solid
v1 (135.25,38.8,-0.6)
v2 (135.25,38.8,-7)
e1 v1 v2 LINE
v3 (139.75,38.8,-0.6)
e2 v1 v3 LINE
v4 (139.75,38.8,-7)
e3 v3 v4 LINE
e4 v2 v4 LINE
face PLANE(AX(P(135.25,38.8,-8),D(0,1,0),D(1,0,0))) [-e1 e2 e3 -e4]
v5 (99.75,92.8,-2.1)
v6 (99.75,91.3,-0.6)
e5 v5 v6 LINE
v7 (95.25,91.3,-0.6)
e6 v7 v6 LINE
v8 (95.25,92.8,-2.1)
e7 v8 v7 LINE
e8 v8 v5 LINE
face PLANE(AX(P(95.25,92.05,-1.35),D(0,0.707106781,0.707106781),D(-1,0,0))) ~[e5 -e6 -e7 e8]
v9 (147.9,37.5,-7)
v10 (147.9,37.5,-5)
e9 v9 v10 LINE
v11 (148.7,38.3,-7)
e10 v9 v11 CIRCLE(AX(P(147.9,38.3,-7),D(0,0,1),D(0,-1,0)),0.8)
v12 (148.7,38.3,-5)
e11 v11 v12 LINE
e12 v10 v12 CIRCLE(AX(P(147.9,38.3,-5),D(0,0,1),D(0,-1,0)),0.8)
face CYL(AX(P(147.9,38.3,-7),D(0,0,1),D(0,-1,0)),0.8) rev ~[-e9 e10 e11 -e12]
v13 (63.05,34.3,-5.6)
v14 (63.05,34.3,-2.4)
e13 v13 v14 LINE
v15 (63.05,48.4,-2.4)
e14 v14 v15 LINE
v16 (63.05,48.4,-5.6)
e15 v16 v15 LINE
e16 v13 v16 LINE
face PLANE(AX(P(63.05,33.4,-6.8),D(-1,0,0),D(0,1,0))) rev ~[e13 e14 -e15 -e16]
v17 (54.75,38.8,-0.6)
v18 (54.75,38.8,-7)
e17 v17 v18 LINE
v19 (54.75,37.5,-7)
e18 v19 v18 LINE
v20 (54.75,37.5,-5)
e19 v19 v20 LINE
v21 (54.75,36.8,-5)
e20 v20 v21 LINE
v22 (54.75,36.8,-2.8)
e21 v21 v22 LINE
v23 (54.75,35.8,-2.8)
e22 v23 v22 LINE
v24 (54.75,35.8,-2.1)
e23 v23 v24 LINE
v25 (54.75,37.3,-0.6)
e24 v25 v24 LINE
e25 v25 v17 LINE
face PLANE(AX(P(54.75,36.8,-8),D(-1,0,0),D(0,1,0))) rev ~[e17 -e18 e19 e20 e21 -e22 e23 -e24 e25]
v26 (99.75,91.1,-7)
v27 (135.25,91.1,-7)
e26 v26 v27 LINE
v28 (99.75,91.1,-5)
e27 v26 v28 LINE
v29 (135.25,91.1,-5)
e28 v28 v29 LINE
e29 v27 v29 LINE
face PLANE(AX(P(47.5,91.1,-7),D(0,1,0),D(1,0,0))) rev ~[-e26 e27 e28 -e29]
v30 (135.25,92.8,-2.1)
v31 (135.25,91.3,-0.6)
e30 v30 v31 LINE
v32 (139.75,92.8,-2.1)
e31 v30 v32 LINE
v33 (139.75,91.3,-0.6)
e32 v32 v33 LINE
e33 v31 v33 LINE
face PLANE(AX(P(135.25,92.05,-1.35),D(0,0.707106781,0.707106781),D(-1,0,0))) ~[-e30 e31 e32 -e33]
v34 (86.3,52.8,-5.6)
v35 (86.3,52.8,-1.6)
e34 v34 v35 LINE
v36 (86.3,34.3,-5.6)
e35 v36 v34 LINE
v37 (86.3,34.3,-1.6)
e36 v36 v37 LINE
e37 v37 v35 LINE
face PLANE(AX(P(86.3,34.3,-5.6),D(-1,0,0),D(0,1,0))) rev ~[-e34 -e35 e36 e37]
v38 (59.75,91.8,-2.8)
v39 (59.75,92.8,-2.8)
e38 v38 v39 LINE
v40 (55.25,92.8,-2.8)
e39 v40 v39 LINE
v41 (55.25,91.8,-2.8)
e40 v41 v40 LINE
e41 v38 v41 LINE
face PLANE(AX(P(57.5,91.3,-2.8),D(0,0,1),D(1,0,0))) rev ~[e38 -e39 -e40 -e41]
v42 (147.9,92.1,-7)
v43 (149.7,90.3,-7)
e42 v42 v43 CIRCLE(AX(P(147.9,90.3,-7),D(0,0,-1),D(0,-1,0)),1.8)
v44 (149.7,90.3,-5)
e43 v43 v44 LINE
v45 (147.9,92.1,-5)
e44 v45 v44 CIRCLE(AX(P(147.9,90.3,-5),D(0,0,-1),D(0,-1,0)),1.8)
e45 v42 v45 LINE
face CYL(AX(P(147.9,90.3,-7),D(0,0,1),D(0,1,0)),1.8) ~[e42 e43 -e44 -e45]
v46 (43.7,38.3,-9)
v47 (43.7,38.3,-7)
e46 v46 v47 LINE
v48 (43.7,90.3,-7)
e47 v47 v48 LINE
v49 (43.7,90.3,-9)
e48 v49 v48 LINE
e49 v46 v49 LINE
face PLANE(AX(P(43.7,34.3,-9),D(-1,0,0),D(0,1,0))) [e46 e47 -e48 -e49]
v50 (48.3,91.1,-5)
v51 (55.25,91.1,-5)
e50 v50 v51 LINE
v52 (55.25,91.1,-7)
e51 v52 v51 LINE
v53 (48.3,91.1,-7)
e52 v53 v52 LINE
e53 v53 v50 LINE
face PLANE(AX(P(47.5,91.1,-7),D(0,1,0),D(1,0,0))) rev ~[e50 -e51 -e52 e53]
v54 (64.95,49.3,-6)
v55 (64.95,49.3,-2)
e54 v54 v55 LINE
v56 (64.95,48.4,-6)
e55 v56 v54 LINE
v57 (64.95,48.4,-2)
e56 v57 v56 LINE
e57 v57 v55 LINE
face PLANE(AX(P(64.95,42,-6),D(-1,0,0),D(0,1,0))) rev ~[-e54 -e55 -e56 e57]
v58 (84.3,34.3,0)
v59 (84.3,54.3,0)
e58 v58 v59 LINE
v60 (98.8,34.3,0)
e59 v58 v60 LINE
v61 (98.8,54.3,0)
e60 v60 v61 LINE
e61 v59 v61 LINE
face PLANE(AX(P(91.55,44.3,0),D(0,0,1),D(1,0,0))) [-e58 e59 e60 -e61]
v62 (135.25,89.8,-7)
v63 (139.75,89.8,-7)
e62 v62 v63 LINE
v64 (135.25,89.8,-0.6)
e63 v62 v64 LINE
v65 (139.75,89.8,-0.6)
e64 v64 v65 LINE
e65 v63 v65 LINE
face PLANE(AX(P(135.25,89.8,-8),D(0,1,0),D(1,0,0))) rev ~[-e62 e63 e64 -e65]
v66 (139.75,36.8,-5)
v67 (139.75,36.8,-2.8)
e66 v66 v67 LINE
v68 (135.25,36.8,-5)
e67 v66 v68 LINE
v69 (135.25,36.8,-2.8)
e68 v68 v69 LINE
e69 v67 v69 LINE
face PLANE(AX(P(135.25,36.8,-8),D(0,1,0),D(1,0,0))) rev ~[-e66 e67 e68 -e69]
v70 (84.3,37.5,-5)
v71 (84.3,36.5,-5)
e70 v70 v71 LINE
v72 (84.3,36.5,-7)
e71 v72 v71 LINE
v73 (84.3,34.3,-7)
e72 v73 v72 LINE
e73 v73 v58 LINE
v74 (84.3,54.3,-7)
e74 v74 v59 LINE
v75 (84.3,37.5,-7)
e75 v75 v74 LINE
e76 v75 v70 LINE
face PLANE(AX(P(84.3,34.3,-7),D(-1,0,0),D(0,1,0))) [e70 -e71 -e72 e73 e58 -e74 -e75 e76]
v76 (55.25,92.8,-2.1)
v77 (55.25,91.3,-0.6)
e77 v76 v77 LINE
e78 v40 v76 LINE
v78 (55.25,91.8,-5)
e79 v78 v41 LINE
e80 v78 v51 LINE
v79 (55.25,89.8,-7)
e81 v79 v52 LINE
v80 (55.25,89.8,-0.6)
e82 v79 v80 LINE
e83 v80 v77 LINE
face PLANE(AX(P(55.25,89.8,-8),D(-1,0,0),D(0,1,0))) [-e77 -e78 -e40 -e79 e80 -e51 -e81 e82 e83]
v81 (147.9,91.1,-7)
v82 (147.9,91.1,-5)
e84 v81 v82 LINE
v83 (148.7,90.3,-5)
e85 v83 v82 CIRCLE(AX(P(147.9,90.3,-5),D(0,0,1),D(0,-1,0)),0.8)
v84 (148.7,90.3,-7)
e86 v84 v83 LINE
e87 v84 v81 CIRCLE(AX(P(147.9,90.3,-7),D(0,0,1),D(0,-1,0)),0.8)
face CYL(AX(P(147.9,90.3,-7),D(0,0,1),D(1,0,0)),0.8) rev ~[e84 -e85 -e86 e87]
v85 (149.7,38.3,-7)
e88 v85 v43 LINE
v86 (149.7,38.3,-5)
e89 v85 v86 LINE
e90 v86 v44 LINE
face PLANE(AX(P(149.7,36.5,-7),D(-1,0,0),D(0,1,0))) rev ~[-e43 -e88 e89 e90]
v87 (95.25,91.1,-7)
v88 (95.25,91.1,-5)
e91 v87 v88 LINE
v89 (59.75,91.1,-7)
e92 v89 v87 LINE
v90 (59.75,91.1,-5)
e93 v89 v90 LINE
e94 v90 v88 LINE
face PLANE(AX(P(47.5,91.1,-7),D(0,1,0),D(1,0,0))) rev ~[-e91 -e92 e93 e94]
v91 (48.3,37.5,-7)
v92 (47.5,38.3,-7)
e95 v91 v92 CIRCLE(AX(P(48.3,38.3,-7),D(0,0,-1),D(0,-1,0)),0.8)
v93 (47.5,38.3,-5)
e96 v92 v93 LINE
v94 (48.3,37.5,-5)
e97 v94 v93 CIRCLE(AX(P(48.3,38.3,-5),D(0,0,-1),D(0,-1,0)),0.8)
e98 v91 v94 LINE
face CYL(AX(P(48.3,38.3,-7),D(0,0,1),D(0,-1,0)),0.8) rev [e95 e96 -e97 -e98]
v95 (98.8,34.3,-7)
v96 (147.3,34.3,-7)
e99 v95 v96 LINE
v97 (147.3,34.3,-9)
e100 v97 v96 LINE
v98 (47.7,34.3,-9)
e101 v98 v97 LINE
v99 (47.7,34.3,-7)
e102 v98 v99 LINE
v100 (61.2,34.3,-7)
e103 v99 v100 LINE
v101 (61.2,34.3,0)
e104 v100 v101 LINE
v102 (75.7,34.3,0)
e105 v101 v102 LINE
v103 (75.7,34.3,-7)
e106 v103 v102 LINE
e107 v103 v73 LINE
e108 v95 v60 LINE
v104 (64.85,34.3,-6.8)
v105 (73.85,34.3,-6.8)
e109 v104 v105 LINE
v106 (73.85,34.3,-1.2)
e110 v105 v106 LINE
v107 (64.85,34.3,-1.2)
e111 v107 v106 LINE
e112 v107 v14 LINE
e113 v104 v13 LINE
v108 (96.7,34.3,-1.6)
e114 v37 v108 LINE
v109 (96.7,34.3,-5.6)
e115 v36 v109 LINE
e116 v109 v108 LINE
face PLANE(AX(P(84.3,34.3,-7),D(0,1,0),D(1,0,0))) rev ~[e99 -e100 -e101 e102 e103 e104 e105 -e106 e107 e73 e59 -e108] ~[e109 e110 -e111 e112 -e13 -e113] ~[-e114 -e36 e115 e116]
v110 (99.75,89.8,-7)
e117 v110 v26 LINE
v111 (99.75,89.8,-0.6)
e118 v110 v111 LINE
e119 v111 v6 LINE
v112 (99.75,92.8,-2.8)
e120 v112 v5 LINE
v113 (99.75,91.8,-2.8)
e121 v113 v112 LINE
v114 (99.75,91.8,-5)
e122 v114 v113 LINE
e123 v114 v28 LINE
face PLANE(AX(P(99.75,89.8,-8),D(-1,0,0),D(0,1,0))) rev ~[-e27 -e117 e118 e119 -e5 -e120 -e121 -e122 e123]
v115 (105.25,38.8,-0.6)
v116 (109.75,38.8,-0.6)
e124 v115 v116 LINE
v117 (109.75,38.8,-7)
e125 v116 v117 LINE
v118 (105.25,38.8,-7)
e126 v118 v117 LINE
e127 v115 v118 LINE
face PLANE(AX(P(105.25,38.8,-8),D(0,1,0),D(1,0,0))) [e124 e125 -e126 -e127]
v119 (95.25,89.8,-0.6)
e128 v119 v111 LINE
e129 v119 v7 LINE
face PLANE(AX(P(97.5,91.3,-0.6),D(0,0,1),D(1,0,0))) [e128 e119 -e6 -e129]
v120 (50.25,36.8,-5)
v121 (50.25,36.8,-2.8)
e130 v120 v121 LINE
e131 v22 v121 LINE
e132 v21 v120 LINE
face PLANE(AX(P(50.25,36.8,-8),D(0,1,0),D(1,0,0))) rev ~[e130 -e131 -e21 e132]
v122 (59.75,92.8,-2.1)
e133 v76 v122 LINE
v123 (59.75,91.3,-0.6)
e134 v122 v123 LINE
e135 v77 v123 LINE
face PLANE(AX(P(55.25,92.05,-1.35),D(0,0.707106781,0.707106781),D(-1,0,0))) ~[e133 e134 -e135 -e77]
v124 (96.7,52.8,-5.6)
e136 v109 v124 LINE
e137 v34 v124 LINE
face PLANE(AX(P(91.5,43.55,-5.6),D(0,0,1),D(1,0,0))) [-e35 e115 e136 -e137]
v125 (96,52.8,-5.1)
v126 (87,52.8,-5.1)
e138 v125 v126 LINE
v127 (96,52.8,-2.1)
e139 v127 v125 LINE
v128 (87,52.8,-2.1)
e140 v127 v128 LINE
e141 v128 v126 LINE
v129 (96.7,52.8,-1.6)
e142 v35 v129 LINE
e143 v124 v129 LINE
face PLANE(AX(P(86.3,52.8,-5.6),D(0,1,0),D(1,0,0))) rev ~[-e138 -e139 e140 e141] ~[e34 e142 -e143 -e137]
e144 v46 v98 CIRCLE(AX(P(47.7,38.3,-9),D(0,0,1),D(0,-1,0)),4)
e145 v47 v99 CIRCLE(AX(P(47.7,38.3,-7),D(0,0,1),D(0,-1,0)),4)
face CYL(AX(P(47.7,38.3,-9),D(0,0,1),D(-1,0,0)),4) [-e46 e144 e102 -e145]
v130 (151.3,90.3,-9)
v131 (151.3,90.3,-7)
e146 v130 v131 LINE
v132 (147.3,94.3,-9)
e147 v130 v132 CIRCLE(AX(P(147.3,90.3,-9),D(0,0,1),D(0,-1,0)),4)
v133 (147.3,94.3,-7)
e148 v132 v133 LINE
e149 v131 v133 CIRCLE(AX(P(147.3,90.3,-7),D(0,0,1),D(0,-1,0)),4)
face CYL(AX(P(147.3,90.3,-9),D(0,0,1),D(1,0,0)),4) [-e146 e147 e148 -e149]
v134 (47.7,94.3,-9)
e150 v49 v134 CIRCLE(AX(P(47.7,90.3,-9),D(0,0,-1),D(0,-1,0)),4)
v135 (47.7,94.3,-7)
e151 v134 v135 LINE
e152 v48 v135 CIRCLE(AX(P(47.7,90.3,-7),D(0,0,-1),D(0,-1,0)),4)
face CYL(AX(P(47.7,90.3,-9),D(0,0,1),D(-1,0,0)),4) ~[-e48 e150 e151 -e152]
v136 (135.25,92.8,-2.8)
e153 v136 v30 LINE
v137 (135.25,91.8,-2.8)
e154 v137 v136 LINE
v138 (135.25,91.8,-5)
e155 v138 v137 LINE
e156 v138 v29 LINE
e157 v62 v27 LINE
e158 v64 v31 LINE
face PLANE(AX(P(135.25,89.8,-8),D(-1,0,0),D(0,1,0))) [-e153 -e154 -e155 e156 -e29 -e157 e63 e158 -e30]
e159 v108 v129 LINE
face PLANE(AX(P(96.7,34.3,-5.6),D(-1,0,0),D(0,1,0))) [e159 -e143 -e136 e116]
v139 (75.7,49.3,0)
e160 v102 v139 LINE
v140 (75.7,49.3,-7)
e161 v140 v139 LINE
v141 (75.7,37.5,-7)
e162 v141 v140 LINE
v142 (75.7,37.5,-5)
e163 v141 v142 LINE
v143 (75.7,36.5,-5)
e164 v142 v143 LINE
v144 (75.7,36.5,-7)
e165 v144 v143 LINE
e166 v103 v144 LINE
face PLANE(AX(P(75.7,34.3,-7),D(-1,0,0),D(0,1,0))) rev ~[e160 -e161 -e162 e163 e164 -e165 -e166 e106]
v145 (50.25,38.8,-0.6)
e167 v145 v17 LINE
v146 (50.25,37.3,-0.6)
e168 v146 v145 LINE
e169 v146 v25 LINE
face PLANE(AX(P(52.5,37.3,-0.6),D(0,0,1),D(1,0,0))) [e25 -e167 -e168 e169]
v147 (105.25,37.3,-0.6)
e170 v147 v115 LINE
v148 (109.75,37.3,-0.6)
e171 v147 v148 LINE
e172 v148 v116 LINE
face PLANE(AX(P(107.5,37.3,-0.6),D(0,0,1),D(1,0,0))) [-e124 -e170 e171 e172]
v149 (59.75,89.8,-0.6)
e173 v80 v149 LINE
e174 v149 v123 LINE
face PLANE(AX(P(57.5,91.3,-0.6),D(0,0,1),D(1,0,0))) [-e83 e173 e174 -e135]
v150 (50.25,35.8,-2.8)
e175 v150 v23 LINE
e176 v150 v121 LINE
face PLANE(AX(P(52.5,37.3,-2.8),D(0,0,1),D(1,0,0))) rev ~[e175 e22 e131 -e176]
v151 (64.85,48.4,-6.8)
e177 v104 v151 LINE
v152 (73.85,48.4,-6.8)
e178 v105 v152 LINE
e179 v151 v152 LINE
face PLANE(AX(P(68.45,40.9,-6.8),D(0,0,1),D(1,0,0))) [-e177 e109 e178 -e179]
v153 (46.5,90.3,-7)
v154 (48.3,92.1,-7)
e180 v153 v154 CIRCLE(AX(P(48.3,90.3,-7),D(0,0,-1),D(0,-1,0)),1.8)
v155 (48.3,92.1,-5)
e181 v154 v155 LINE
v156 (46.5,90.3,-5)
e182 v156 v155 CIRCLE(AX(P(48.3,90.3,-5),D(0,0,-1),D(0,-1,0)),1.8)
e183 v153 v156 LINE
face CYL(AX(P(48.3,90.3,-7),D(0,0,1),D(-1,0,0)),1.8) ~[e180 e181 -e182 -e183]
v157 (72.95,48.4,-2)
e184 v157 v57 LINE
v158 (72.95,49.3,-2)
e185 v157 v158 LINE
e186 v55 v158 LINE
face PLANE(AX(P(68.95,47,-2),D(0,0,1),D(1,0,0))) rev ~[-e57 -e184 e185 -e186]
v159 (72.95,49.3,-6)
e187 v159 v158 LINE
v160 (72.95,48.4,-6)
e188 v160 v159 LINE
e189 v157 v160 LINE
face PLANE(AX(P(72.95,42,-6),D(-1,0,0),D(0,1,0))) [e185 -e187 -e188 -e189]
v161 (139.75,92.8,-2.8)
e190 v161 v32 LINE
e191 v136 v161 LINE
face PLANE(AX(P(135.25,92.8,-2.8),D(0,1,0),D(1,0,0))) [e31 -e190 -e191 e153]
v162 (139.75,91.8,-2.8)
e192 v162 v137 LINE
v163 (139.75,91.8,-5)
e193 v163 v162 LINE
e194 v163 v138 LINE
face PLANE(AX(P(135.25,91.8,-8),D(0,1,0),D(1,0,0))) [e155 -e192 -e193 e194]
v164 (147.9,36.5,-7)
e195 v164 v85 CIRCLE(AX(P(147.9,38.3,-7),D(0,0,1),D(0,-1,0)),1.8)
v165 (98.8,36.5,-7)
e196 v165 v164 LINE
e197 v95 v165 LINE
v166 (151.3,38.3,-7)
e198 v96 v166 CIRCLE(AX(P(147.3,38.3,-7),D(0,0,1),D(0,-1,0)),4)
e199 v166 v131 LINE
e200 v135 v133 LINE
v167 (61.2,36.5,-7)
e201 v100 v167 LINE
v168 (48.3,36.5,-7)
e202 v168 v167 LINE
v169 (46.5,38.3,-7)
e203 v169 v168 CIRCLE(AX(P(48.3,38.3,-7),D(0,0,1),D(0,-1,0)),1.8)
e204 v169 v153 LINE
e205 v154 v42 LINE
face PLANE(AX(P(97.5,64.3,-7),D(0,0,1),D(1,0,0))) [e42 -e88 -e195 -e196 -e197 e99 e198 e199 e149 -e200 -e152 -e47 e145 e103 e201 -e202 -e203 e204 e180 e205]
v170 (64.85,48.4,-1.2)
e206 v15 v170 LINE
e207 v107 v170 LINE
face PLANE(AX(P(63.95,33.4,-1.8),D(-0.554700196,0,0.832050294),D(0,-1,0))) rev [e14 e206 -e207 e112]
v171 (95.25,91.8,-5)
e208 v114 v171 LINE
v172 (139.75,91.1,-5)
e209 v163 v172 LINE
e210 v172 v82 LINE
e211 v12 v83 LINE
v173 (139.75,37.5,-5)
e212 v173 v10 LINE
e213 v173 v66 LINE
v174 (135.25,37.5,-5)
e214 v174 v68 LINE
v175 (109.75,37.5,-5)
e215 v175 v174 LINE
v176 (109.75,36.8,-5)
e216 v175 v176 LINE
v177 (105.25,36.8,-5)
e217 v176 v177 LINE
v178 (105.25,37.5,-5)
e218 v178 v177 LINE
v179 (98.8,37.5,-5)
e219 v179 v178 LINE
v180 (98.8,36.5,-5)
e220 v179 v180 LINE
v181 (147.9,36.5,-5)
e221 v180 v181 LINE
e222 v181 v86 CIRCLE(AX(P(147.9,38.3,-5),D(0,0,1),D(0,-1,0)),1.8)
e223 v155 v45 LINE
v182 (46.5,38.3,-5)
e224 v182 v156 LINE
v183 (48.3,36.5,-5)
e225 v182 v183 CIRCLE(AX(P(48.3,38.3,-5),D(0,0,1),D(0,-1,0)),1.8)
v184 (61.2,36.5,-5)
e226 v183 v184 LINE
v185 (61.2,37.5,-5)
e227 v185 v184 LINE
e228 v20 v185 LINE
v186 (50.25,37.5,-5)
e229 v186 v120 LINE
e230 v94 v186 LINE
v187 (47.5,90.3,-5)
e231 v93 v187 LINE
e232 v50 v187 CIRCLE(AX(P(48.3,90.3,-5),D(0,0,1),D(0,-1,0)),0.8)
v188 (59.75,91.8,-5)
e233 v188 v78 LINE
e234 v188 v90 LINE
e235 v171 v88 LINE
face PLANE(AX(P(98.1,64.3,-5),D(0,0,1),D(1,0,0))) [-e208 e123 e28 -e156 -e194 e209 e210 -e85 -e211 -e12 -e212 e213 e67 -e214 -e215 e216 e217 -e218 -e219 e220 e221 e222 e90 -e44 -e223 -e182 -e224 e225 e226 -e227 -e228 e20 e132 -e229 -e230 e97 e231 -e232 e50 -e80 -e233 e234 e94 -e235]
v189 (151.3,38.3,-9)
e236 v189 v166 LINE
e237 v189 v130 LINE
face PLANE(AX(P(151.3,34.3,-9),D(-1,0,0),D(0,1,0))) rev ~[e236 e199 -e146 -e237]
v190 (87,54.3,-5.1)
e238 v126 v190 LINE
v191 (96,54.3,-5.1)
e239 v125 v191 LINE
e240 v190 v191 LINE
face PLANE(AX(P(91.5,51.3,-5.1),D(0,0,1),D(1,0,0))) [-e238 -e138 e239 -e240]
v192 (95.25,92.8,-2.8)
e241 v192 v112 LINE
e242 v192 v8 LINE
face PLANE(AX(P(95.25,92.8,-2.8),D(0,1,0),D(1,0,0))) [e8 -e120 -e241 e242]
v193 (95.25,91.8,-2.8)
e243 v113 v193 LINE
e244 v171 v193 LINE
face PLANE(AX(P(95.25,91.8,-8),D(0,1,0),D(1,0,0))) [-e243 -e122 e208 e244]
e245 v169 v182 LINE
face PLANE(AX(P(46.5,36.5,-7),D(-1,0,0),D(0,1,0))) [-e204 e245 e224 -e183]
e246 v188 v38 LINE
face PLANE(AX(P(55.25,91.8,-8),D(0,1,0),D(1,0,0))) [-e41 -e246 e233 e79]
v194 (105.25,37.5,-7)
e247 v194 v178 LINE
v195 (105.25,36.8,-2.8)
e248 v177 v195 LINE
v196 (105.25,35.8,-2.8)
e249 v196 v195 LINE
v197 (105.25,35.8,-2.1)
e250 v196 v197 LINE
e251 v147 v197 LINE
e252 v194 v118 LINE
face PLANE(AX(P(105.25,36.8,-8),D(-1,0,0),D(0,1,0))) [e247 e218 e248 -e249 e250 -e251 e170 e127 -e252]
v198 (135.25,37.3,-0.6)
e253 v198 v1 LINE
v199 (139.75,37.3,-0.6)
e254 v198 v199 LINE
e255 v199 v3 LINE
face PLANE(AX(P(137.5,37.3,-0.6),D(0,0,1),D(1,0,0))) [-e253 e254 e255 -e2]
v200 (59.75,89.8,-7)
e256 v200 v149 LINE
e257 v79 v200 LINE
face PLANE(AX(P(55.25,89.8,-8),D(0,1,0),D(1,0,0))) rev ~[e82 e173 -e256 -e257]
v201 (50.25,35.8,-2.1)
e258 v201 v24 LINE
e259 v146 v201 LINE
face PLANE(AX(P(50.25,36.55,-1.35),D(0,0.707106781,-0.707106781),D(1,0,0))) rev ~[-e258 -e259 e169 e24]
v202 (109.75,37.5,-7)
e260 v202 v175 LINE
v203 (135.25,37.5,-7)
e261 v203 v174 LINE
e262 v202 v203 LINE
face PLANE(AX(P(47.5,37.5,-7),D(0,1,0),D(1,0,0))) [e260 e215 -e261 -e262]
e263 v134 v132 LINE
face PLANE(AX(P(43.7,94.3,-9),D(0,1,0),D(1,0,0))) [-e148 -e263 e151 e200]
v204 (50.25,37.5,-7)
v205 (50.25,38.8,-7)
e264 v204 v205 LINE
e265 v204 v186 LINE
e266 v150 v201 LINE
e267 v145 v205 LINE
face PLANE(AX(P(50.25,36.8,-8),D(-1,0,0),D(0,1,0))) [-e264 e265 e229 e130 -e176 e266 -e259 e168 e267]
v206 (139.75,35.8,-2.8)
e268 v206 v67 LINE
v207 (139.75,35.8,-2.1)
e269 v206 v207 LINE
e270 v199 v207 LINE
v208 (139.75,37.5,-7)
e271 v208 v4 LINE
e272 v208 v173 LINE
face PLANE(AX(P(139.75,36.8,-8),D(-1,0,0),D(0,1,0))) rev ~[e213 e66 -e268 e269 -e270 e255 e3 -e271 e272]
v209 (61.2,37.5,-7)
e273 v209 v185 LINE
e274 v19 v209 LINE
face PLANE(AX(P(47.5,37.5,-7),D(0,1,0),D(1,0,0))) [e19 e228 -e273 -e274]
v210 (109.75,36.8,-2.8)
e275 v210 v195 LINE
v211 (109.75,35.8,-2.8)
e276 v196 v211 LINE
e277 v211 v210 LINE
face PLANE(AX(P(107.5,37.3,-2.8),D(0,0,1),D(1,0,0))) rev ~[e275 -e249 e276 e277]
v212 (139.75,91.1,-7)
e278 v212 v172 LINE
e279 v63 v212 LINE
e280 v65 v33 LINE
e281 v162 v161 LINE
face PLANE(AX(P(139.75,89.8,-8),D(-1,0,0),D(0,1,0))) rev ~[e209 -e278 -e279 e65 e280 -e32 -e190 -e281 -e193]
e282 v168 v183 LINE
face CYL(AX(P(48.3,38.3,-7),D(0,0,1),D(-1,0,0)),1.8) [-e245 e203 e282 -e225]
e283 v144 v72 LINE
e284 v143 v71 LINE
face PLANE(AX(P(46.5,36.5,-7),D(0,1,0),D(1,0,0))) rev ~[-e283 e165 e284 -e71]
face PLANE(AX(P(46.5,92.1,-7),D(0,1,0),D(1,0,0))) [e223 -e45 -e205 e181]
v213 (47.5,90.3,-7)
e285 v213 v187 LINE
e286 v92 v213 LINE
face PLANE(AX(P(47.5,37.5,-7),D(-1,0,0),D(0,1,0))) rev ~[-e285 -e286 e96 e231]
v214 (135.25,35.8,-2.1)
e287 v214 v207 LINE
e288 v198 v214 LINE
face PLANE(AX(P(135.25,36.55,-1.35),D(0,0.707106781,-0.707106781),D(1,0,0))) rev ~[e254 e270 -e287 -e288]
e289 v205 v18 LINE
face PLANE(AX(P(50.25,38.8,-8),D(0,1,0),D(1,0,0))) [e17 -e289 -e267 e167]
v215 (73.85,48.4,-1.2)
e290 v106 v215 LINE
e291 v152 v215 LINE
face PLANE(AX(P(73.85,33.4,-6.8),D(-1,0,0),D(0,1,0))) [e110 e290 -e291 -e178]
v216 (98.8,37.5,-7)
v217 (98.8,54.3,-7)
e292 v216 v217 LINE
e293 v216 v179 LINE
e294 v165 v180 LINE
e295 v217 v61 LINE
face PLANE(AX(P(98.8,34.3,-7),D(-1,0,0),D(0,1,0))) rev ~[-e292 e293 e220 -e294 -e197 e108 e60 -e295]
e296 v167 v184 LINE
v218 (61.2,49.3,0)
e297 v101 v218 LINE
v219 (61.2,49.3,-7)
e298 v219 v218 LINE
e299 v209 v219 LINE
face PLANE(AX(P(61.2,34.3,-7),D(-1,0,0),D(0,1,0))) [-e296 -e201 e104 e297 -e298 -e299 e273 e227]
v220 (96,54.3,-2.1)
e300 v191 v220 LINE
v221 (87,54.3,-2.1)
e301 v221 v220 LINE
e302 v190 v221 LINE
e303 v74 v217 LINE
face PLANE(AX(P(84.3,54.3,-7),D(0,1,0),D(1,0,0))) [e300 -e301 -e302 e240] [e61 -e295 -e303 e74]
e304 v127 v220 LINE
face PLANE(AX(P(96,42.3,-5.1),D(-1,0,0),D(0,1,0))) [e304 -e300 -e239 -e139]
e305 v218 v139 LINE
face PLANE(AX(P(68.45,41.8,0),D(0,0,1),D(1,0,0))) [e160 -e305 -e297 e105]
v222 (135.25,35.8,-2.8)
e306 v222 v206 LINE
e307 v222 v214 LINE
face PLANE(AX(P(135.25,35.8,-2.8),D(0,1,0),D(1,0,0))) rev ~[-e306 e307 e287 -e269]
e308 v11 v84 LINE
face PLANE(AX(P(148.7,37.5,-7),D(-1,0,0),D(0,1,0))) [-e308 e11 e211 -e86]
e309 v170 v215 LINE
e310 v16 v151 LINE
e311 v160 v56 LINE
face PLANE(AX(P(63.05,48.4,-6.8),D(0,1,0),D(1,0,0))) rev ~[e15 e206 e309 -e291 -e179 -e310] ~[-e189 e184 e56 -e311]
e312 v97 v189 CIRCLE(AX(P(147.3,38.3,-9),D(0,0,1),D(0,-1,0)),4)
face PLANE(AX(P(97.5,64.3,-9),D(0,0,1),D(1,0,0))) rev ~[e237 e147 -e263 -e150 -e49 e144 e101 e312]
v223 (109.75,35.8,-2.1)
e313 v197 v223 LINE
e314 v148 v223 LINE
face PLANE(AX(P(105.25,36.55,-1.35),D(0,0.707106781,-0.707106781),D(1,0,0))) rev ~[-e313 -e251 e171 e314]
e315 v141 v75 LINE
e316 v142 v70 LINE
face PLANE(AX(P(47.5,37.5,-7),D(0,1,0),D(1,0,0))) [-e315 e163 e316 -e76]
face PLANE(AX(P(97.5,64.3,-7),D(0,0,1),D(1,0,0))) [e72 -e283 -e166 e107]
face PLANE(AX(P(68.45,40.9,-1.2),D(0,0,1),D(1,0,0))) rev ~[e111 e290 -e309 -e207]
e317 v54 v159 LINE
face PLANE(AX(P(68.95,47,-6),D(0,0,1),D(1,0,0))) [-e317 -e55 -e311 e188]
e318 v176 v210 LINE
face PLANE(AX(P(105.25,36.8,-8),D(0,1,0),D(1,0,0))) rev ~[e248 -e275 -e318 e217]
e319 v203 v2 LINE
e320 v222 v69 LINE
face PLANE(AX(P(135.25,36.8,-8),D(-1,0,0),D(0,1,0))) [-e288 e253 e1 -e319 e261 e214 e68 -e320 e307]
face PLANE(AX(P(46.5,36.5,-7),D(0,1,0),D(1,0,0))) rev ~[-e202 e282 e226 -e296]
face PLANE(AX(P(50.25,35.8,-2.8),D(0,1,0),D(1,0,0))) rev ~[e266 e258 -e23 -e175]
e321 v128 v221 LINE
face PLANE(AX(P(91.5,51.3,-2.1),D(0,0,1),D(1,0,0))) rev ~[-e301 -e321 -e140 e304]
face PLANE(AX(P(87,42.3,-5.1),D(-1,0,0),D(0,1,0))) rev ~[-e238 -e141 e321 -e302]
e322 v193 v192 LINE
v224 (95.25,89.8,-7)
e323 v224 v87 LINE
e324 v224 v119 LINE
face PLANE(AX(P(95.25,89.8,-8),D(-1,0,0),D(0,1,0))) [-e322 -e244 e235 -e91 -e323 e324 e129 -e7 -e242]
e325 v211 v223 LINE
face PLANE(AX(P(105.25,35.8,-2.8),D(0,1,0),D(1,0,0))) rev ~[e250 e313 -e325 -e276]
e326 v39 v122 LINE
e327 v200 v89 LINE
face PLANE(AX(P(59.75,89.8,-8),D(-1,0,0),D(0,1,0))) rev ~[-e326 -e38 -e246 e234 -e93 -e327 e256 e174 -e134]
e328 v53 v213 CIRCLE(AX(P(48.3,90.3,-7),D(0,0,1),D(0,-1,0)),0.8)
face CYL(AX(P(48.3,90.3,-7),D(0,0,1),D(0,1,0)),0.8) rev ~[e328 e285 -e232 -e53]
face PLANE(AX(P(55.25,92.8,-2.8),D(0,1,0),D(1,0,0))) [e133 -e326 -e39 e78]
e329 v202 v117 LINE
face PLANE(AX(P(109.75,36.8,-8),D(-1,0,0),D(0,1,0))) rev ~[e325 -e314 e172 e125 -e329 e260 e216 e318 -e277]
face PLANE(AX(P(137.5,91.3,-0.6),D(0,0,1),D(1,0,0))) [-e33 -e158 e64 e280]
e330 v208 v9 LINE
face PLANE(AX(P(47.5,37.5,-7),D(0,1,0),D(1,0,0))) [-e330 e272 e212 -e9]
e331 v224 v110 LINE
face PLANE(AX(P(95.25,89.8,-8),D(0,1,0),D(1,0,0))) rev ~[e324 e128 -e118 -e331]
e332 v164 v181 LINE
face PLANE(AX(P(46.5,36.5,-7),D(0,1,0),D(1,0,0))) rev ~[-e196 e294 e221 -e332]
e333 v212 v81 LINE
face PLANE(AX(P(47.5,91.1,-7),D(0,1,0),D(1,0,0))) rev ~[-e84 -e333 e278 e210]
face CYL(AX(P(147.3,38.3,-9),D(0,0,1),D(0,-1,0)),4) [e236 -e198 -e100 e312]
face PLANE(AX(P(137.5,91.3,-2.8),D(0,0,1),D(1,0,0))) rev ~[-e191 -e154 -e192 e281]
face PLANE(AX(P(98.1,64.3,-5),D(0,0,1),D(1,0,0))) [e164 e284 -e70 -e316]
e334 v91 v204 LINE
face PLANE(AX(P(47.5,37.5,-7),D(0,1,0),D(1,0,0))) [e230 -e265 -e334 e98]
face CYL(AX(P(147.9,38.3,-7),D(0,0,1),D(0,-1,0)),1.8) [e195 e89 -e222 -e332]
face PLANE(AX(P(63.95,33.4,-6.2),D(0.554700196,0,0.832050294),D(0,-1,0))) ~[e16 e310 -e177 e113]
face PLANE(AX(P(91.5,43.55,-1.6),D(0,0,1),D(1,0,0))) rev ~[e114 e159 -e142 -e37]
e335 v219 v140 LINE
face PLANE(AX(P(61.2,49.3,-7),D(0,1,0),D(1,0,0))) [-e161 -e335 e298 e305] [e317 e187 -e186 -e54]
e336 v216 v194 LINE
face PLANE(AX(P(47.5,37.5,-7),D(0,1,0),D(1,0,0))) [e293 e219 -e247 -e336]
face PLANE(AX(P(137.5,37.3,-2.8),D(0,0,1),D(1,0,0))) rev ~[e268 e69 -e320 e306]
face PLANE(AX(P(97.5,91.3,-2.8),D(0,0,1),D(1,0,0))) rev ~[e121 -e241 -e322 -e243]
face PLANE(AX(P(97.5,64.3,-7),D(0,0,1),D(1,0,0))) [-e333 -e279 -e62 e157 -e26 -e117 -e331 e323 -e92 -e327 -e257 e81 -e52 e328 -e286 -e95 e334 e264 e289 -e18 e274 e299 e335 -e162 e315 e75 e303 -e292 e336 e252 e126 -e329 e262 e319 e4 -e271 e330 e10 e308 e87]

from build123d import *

# Parameters (mm, degrees)
BOX096_W         = 10.8
BOX096_H         = 15
BOX096_DEPTH     = 5.6
CHAMFER007_SIZE2 = 1.8
CHAMFER007_SIZE  = 1.2
BOX097_W         = 8
BOX097_H         = 10
BOX097_DEPTH     = 4
BOX098_W         = 10.4
BOX098_H         = 18.5
BOX098_DEPTH     = 4
BOX099_W         = 9
BOX099_H         = 18
BOX099_DEPTH     = 3
BOX094_W         = 14.5
BOX094_H         = 15
BOX094_DEPTH     = 7
BOX095_W         = 14.5
BOX095_H         = 20
BOX095_DEPTH     = 7
BOX089_W         = 4.5
BOX089_H         = 2
BOX089_DEPTH     = 6
BOX090_W         = 4.5
BOX090_H         = 2
BOX090_DEPTH     = 6
BOX091_W         = 4.5
BOX091_H         = 2
BOX091_DEPTH     = 6
BOX086_W         = 4.5
BOX086_H         = 2
BOX086_DEPTH     = 6
BOX087_W         = 4.5
BOX087_H         = 2
BOX087_DEPTH     = 6
BOX088_W         = 4.5
BOX088_H         = 2
BOX088_DEPTH     = 6
BOX083_W         = 4.5
BOX083_H         = 3
BOX083_DEPTH     = 2.2
BOX084_W         = 4.5
BOX084_H         = 3
BOX084_DEPTH     = 2.2
BOX085_W         = 4.5
BOX085_H         = 3
BOX085_DEPTH     = 2.2
BOX080_W         = 4.5
BOX080_H         = 3
BOX080_DEPTH     = 2.2
BOX081_W         = 4.5
BOX081_H         = 3
BOX081_DEPTH     = 2.2
BOX082_W         = 4.5
BOX082_H         = 3
BOX082_DEPTH     = 2.2
CHAMFER006_SIZE  = 1.5
BOX079_W         = 107.6
BOX079_H         = 60
BOX079_DEPTH     = 2
FILLET015_R      = 4
BOX093_W         = 101.2
BOX093_H         = 53.6
BOX093_DEPTH     = 2
BOX092_W         = 103.2
BOX092_H         = 55.6
BOX092_DEPTH     = 2
FILLET016_1_R    = 1.8
FILLET016_2_R    = 0.8


with BuildPart() as chamfer007:
    # Box096 → Box096 (new body)
    with BuildSketch(Plane(origin=(19, 0, 0), x_dir=(1, 0, 0), z_dir=(0, 0, 1))):
        with Locations((5.4, 7.5)):
            Rectangle(BOX096_W, BOX096_H)
    extrude(amount=BOX096_DEPTH)

    # Chamfer007
    chamfer007_edges = [chamfer007.edges().sort_by_distance(p)[0] for p in [
        (19, 7.5, 5.6),
        (19, 7.5, 0),
    ]]
    chamfer007_side = chamfer007.faces().sort_by_distance((19, 7.5, 2.8))[0]
    chamfer(chamfer007_edges, length=CHAMFER007_SIZE, length2=CHAMFER007_SIZE2, reference=chamfer007_side)


with BuildPart() as chamfer007_1:
    # Chamfer007 placement: moved
    add(chamfer007.part.moved(Location((44.1, 33.4, -1.8))))


with BuildPart() as fusion058:
    # Box097 → Box097 (new body)
    with BuildSketch(Plane(origin=(65, 42, -1), x_dir=(1, 0, 0), z_dir=(0, 0, 1))):
        with Locations((4, 5)):
            Rectangle(BOX097_W, BOX097_H)
    extrude(amount=BOX097_DEPTH)

    # Fusion058: union Chamfer007
    add(chamfer007_1.part)


with BuildPart() as fusion058_1:
    # Fusion058 placement: moved
    add(fusion058.part.moved(Location((-0.05, 0, 0))))


with BuildPart() as cubo098:
    # Box098 → Box098 (new body)
    with BuildSketch(Plane.XY.offset(-0.1)):
        with Locations((5.2, 9.25)):
            Rectangle(BOX098_W, BOX098_H)
    extrude(amount=BOX098_DEPTH)


with BuildPart() as fusion061:
    # Box099 → Box099 (new body)
    with BuildSketch(Plane(origin=(0.7, 8, 0.4), x_dir=(1, 0, 0), z_dir=(0, 0, 1))):
        with Locations((4.5, 9)):
            Rectangle(BOX099_W, BOX099_H)
    extrude(amount=BOX099_DEPTH)

    # Fusion060: union Cubo098
    add(cubo098.part)


with BuildPart() as fusion061_1:
    # Fusion060 placement: moved
    add(fusion061.part.moved(Location((86.3, 34.3, -0.5))))

    # Fusion061: union Fusion058
    add(fusion058_1.part)


with BuildPart() as cubo094:
    # Box094 → Box094 (new body)
    with BuildSketch(Plane(origin=(61.2, 34.3, -2), x_dir=(1, 0, 0), z_dir=(0, 0, 1))):
        with Locations((7.25, 7.5)):
            Rectangle(BOX094_W, BOX094_H)
    extrude(amount=BOX094_DEPTH)


with BuildPart() as cubo095:
    # Box095 → Box095 (new body)
    with BuildSketch(Plane(origin=(84.3, 34.3, -2), x_dir=(1, 0, 0), z_dir=(0, 0, 1))):
        with Locations((7.25, 10)):
            Rectangle(BOX095_W, BOX095_H)
    extrude(amount=BOX095_DEPTH)


with BuildPart() as cubo089:
    # Box089 → Box089 (new body)
    with BuildSketch(Plane(origin=(0, -2, -5), x_dir=(1, 0, 0), z_dir=(0, 0, 1))):
        with Locations((2.25, 1)):
            Rectangle(BOX089_W, BOX089_H)
    extrude(amount=BOX089_DEPTH)


with BuildPart() as cubo090:
    # Box090 → Box090 (new body)
    with BuildSketch(Plane(origin=(40, -2, -5), x_dir=(1, 0, 0), z_dir=(0, 0, 1))):
        with Locations((2.25, 1)):
            Rectangle(BOX090_W, BOX090_H)
    extrude(amount=BOX090_DEPTH)


with BuildPart() as fusion054:
    # Box091 → Box091 (new body)
    with BuildSketch(Plane(origin=(80, -2, -5), x_dir=(1, 0, 0), z_dir=(0, 0, 1))):
        with Locations((2.25, 1)):
            Rectangle(BOX091_W, BOX091_H)
    extrude(amount=BOX091_DEPTH)

    # Fusion054: union Cubo089, Cubo090
    add(cubo089.part)
    add(cubo090.part)


with BuildPart() as fusion054_1:
    # Fusion054 placement: moved
    add(fusion054.part.moved(Location((55, 91.8, 2))))


with BuildPart() as cubo086:
    # Box086 → Box086 (new body)
    with BuildSketch(Plane(origin=(-5, 1, -5), x_dir=(1, 0, 0), z_dir=(0, 0, 1))):
        with Locations((2.25, 1)):
            Rectangle(BOX086_W, BOX086_H)
    extrude(amount=BOX086_DEPTH)


with BuildPart() as cubo087:
    # Box087 → Box087 (new body)
    with BuildSketch(Plane(origin=(50, 1, -5), x_dir=(1, 0, 0), z_dir=(0, 0, 1))):
        with Locations((2.25, 1)):
            Rectangle(BOX087_W, BOX087_H)
    extrude(amount=BOX087_DEPTH)


with BuildPart() as fusion055:
    # Box088 → Box088 (new body)
    with BuildSketch(Plane(origin=(80, 1, -5), x_dir=(1, 0, 0), z_dir=(0, 0, 1))):
        with Locations((2.25, 1)):
            Rectangle(BOX088_W, BOX088_H)
    extrude(amount=BOX088_DEPTH)

    # Fusion053: union Cubo086, Cubo087
    add(cubo086.part)
    add(cubo087.part)


with BuildPart() as fusion055_1:
    # Fusion053 placement: moved
    add(fusion055.part.moved(Location((55, 35.8, 2))))

    # Fusion055: union Fusion054
    add(fusion054_1.part)


with BuildPart() as cubo083:
    # Box083 → Box083 (new body)
    with BuildSketch(Plane(origin=(0, -2, 0.2), x_dir=(1, 0, 0), z_dir=(0, 0, 1))):
        with Locations((2.25, 1.5)):
            Rectangle(BOX083_W, BOX083_H)
    extrude(amount=BOX083_DEPTH)


with BuildPart() as cubo084:
    # Box084 → Box084 (new body)
    with BuildSketch(Plane(origin=(40, -2, 0.2), x_dir=(1, 0, 0), z_dir=(0, 0, 1))):
        with Locations((2.25, 1.5)):
            Rectangle(BOX084_W, BOX084_H)
    extrude(amount=BOX084_DEPTH)


with BuildPart() as fusion051:
    # Box085 → Box085 (new body)
    with BuildSketch(Plane(origin=(80, -2, 0.2), x_dir=(1, 0, 0), z_dir=(0, 0, 1))):
        with Locations((2.25, 1.5)):
            Rectangle(BOX085_W, BOX085_H)
    extrude(amount=BOX085_DEPTH)

    # Fusion051: union Cubo083, Cubo084
    add(cubo083.part)
    add(cubo084.part)


with BuildPart() as fusion051_1:
    # Fusion051 placement: moved
    add(fusion051.part.moved(Location((55, 91.8, 2))))


with BuildPart() as cubo080:
    # Box080 → Box080 (new body)
    with BuildSketch(Plane(origin=(-5, 0, 0.2), x_dir=(1, 0, 0), z_dir=(0, 0, 1))):
        with Locations((2.25, 1.5)):
            Rectangle(BOX080_W, BOX080_H)
    extrude(amount=BOX080_DEPTH)


with BuildPart() as cubo081:
    # Box081 → Box081 (new body)
    with BuildSketch(Plane(origin=(50, 0, 0.2), x_dir=(1, 0, 0), z_dir=(0, 0, 1))):
        with Locations((2.25, 1.5)):
            Rectangle(BOX081_W, BOX081_H)
    extrude(amount=BOX081_DEPTH)


with BuildPart() as chamfer006:
    # Box082 → Box082 (new body)
    with BuildSketch(Plane(origin=(80, 0, 0.2), x_dir=(1, 0, 0), z_dir=(0, 0, 1))):
        with Locations((2.25, 1.5)):
            Rectangle(BOX082_W, BOX082_H)
    extrude(amount=BOX082_DEPTH)

    # Fusion050: union Cubo080, Cubo081
    add(cubo080.part)
    add(cubo081.part)


with BuildPart() as chamfer006_1:
    # Fusion050 placement: moved
    add(chamfer006.part.moved(Location((55, 35.8, 2))))

    # Fusion052: union Fusion051
    add(fusion051_1.part)

    # Fusion056: union Fusion055
    add(fusion055_1.part)

    # Chamfer006
    chamfer006_edges = [chamfer006_1.edges().sort_by_distance(p)[0] for p in [
        (137.25, 35.8, 4.4),
        (52.25, 35.8, 4.4),
        (107.25, 35.8, 4.4),
        (137.25, 92.8, 4.4),
        (57.25, 92.8, 4.4),
        (97.25, 92.8, 4.4),
    ]]
    chamfer(chamfer006_edges, length=CHAMFER006_SIZE)


with BuildPart() as chamfer006_2:
    # Chamfer006 placement: moved
    add(chamfer006_1.part.moved(Location((0.25, 0, 0))))


with BuildPart() as fillet015:
    # Box079 → Box079 (new body)
    with BuildSketch(Plane(origin=(43.7, 34.3, -4), x_dir=(1, 0, 0), z_dir=(0, 0, 1))):
        with Locations((53.8, 30)):
            Rectangle(BOX079_W, BOX079_H)
    extrude(amount=BOX079_DEPTH)

    # Fillet015
    fillet015_edges = [fillet015.edges().sort_by_distance(p)[0] for p in [
        (43.7, 34.3, -3),
        (43.7, 94.3, -3),
        (151.3, 34.3, -3),
        (151.3, 94.3, -3),
    ]]
    fillet(fillet015_edges, radius=FILLET015_R)


with BuildPart() as cubo093:
    # Box093 → Box093 (new body)
    with BuildSketch(Plane(origin=(49.7, 35.3, -2), x_dir=(1, 0, 0), z_dir=(0, 0, 1))):
        with Locations((50.6, 26.8)):
            Rectangle(BOX093_W, BOX093_H)
    extrude(amount=BOX093_DEPTH)


with BuildPart() as base:
    # Box092 → Box092 (new body)
    with BuildSketch(Plane(origin=(48.7, 34.3, -2), x_dir=(1, 0, 0), z_dir=(0, 0, 1))):
        with Locations((51.6, 27.8)):
            Rectangle(BOX092_W, BOX092_H)
    extrude(amount=BOX092_DEPTH)

    # Cut019: cut Cubo093
    add(cubo093.part, mode=Mode.SUBTRACT)

    # Fillet016 1
    fillet016_1_edges = [base.edges().sort_by_distance(p)[0] for p in [
        (48.7, 34.3, -1),
        (48.7, 89.9, -1),
        (151.9, 34.3, -1),
        (151.9, 89.9, -1),
    ]]
    fillet(fillet016_1_edges, radius=FILLET016_1_R)

    # Fillet016 2
    fillet016_2_edges = [base.edges().sort_by_distance(p)[0] for p in [
        (150.9, 35.3, -1),
        (49.7, 35.3, -1),
        (150.9, 88.9, -1),
        (49.7, 88.9, -1),
    ]]
    fillet(fillet016_2_edges, radius=FILLET016_2_R)


with BuildPart() as base_1:
    # Fillet016 placement: moved
    add(base.part.moved(Location((-2.2, 2.2, 0))))

    # Fusion057: union Chamfer006, Fillet015
    add(chamfer006_2.part)
    add(fillet015.part)

    # Fusion059: union Cubo094, Cubo095
    add(cubo094.part)
    add(cubo095.part)

    # Cut020: cut Fusion061
    add(fusion061_1.part, mode=Mode.SUBTRACT)


with BuildPart() as base_2:
    # Cut020 placement: moved
    add(base_1.part.moved(Location((0, 0, -5))))


solid = base_2.part
